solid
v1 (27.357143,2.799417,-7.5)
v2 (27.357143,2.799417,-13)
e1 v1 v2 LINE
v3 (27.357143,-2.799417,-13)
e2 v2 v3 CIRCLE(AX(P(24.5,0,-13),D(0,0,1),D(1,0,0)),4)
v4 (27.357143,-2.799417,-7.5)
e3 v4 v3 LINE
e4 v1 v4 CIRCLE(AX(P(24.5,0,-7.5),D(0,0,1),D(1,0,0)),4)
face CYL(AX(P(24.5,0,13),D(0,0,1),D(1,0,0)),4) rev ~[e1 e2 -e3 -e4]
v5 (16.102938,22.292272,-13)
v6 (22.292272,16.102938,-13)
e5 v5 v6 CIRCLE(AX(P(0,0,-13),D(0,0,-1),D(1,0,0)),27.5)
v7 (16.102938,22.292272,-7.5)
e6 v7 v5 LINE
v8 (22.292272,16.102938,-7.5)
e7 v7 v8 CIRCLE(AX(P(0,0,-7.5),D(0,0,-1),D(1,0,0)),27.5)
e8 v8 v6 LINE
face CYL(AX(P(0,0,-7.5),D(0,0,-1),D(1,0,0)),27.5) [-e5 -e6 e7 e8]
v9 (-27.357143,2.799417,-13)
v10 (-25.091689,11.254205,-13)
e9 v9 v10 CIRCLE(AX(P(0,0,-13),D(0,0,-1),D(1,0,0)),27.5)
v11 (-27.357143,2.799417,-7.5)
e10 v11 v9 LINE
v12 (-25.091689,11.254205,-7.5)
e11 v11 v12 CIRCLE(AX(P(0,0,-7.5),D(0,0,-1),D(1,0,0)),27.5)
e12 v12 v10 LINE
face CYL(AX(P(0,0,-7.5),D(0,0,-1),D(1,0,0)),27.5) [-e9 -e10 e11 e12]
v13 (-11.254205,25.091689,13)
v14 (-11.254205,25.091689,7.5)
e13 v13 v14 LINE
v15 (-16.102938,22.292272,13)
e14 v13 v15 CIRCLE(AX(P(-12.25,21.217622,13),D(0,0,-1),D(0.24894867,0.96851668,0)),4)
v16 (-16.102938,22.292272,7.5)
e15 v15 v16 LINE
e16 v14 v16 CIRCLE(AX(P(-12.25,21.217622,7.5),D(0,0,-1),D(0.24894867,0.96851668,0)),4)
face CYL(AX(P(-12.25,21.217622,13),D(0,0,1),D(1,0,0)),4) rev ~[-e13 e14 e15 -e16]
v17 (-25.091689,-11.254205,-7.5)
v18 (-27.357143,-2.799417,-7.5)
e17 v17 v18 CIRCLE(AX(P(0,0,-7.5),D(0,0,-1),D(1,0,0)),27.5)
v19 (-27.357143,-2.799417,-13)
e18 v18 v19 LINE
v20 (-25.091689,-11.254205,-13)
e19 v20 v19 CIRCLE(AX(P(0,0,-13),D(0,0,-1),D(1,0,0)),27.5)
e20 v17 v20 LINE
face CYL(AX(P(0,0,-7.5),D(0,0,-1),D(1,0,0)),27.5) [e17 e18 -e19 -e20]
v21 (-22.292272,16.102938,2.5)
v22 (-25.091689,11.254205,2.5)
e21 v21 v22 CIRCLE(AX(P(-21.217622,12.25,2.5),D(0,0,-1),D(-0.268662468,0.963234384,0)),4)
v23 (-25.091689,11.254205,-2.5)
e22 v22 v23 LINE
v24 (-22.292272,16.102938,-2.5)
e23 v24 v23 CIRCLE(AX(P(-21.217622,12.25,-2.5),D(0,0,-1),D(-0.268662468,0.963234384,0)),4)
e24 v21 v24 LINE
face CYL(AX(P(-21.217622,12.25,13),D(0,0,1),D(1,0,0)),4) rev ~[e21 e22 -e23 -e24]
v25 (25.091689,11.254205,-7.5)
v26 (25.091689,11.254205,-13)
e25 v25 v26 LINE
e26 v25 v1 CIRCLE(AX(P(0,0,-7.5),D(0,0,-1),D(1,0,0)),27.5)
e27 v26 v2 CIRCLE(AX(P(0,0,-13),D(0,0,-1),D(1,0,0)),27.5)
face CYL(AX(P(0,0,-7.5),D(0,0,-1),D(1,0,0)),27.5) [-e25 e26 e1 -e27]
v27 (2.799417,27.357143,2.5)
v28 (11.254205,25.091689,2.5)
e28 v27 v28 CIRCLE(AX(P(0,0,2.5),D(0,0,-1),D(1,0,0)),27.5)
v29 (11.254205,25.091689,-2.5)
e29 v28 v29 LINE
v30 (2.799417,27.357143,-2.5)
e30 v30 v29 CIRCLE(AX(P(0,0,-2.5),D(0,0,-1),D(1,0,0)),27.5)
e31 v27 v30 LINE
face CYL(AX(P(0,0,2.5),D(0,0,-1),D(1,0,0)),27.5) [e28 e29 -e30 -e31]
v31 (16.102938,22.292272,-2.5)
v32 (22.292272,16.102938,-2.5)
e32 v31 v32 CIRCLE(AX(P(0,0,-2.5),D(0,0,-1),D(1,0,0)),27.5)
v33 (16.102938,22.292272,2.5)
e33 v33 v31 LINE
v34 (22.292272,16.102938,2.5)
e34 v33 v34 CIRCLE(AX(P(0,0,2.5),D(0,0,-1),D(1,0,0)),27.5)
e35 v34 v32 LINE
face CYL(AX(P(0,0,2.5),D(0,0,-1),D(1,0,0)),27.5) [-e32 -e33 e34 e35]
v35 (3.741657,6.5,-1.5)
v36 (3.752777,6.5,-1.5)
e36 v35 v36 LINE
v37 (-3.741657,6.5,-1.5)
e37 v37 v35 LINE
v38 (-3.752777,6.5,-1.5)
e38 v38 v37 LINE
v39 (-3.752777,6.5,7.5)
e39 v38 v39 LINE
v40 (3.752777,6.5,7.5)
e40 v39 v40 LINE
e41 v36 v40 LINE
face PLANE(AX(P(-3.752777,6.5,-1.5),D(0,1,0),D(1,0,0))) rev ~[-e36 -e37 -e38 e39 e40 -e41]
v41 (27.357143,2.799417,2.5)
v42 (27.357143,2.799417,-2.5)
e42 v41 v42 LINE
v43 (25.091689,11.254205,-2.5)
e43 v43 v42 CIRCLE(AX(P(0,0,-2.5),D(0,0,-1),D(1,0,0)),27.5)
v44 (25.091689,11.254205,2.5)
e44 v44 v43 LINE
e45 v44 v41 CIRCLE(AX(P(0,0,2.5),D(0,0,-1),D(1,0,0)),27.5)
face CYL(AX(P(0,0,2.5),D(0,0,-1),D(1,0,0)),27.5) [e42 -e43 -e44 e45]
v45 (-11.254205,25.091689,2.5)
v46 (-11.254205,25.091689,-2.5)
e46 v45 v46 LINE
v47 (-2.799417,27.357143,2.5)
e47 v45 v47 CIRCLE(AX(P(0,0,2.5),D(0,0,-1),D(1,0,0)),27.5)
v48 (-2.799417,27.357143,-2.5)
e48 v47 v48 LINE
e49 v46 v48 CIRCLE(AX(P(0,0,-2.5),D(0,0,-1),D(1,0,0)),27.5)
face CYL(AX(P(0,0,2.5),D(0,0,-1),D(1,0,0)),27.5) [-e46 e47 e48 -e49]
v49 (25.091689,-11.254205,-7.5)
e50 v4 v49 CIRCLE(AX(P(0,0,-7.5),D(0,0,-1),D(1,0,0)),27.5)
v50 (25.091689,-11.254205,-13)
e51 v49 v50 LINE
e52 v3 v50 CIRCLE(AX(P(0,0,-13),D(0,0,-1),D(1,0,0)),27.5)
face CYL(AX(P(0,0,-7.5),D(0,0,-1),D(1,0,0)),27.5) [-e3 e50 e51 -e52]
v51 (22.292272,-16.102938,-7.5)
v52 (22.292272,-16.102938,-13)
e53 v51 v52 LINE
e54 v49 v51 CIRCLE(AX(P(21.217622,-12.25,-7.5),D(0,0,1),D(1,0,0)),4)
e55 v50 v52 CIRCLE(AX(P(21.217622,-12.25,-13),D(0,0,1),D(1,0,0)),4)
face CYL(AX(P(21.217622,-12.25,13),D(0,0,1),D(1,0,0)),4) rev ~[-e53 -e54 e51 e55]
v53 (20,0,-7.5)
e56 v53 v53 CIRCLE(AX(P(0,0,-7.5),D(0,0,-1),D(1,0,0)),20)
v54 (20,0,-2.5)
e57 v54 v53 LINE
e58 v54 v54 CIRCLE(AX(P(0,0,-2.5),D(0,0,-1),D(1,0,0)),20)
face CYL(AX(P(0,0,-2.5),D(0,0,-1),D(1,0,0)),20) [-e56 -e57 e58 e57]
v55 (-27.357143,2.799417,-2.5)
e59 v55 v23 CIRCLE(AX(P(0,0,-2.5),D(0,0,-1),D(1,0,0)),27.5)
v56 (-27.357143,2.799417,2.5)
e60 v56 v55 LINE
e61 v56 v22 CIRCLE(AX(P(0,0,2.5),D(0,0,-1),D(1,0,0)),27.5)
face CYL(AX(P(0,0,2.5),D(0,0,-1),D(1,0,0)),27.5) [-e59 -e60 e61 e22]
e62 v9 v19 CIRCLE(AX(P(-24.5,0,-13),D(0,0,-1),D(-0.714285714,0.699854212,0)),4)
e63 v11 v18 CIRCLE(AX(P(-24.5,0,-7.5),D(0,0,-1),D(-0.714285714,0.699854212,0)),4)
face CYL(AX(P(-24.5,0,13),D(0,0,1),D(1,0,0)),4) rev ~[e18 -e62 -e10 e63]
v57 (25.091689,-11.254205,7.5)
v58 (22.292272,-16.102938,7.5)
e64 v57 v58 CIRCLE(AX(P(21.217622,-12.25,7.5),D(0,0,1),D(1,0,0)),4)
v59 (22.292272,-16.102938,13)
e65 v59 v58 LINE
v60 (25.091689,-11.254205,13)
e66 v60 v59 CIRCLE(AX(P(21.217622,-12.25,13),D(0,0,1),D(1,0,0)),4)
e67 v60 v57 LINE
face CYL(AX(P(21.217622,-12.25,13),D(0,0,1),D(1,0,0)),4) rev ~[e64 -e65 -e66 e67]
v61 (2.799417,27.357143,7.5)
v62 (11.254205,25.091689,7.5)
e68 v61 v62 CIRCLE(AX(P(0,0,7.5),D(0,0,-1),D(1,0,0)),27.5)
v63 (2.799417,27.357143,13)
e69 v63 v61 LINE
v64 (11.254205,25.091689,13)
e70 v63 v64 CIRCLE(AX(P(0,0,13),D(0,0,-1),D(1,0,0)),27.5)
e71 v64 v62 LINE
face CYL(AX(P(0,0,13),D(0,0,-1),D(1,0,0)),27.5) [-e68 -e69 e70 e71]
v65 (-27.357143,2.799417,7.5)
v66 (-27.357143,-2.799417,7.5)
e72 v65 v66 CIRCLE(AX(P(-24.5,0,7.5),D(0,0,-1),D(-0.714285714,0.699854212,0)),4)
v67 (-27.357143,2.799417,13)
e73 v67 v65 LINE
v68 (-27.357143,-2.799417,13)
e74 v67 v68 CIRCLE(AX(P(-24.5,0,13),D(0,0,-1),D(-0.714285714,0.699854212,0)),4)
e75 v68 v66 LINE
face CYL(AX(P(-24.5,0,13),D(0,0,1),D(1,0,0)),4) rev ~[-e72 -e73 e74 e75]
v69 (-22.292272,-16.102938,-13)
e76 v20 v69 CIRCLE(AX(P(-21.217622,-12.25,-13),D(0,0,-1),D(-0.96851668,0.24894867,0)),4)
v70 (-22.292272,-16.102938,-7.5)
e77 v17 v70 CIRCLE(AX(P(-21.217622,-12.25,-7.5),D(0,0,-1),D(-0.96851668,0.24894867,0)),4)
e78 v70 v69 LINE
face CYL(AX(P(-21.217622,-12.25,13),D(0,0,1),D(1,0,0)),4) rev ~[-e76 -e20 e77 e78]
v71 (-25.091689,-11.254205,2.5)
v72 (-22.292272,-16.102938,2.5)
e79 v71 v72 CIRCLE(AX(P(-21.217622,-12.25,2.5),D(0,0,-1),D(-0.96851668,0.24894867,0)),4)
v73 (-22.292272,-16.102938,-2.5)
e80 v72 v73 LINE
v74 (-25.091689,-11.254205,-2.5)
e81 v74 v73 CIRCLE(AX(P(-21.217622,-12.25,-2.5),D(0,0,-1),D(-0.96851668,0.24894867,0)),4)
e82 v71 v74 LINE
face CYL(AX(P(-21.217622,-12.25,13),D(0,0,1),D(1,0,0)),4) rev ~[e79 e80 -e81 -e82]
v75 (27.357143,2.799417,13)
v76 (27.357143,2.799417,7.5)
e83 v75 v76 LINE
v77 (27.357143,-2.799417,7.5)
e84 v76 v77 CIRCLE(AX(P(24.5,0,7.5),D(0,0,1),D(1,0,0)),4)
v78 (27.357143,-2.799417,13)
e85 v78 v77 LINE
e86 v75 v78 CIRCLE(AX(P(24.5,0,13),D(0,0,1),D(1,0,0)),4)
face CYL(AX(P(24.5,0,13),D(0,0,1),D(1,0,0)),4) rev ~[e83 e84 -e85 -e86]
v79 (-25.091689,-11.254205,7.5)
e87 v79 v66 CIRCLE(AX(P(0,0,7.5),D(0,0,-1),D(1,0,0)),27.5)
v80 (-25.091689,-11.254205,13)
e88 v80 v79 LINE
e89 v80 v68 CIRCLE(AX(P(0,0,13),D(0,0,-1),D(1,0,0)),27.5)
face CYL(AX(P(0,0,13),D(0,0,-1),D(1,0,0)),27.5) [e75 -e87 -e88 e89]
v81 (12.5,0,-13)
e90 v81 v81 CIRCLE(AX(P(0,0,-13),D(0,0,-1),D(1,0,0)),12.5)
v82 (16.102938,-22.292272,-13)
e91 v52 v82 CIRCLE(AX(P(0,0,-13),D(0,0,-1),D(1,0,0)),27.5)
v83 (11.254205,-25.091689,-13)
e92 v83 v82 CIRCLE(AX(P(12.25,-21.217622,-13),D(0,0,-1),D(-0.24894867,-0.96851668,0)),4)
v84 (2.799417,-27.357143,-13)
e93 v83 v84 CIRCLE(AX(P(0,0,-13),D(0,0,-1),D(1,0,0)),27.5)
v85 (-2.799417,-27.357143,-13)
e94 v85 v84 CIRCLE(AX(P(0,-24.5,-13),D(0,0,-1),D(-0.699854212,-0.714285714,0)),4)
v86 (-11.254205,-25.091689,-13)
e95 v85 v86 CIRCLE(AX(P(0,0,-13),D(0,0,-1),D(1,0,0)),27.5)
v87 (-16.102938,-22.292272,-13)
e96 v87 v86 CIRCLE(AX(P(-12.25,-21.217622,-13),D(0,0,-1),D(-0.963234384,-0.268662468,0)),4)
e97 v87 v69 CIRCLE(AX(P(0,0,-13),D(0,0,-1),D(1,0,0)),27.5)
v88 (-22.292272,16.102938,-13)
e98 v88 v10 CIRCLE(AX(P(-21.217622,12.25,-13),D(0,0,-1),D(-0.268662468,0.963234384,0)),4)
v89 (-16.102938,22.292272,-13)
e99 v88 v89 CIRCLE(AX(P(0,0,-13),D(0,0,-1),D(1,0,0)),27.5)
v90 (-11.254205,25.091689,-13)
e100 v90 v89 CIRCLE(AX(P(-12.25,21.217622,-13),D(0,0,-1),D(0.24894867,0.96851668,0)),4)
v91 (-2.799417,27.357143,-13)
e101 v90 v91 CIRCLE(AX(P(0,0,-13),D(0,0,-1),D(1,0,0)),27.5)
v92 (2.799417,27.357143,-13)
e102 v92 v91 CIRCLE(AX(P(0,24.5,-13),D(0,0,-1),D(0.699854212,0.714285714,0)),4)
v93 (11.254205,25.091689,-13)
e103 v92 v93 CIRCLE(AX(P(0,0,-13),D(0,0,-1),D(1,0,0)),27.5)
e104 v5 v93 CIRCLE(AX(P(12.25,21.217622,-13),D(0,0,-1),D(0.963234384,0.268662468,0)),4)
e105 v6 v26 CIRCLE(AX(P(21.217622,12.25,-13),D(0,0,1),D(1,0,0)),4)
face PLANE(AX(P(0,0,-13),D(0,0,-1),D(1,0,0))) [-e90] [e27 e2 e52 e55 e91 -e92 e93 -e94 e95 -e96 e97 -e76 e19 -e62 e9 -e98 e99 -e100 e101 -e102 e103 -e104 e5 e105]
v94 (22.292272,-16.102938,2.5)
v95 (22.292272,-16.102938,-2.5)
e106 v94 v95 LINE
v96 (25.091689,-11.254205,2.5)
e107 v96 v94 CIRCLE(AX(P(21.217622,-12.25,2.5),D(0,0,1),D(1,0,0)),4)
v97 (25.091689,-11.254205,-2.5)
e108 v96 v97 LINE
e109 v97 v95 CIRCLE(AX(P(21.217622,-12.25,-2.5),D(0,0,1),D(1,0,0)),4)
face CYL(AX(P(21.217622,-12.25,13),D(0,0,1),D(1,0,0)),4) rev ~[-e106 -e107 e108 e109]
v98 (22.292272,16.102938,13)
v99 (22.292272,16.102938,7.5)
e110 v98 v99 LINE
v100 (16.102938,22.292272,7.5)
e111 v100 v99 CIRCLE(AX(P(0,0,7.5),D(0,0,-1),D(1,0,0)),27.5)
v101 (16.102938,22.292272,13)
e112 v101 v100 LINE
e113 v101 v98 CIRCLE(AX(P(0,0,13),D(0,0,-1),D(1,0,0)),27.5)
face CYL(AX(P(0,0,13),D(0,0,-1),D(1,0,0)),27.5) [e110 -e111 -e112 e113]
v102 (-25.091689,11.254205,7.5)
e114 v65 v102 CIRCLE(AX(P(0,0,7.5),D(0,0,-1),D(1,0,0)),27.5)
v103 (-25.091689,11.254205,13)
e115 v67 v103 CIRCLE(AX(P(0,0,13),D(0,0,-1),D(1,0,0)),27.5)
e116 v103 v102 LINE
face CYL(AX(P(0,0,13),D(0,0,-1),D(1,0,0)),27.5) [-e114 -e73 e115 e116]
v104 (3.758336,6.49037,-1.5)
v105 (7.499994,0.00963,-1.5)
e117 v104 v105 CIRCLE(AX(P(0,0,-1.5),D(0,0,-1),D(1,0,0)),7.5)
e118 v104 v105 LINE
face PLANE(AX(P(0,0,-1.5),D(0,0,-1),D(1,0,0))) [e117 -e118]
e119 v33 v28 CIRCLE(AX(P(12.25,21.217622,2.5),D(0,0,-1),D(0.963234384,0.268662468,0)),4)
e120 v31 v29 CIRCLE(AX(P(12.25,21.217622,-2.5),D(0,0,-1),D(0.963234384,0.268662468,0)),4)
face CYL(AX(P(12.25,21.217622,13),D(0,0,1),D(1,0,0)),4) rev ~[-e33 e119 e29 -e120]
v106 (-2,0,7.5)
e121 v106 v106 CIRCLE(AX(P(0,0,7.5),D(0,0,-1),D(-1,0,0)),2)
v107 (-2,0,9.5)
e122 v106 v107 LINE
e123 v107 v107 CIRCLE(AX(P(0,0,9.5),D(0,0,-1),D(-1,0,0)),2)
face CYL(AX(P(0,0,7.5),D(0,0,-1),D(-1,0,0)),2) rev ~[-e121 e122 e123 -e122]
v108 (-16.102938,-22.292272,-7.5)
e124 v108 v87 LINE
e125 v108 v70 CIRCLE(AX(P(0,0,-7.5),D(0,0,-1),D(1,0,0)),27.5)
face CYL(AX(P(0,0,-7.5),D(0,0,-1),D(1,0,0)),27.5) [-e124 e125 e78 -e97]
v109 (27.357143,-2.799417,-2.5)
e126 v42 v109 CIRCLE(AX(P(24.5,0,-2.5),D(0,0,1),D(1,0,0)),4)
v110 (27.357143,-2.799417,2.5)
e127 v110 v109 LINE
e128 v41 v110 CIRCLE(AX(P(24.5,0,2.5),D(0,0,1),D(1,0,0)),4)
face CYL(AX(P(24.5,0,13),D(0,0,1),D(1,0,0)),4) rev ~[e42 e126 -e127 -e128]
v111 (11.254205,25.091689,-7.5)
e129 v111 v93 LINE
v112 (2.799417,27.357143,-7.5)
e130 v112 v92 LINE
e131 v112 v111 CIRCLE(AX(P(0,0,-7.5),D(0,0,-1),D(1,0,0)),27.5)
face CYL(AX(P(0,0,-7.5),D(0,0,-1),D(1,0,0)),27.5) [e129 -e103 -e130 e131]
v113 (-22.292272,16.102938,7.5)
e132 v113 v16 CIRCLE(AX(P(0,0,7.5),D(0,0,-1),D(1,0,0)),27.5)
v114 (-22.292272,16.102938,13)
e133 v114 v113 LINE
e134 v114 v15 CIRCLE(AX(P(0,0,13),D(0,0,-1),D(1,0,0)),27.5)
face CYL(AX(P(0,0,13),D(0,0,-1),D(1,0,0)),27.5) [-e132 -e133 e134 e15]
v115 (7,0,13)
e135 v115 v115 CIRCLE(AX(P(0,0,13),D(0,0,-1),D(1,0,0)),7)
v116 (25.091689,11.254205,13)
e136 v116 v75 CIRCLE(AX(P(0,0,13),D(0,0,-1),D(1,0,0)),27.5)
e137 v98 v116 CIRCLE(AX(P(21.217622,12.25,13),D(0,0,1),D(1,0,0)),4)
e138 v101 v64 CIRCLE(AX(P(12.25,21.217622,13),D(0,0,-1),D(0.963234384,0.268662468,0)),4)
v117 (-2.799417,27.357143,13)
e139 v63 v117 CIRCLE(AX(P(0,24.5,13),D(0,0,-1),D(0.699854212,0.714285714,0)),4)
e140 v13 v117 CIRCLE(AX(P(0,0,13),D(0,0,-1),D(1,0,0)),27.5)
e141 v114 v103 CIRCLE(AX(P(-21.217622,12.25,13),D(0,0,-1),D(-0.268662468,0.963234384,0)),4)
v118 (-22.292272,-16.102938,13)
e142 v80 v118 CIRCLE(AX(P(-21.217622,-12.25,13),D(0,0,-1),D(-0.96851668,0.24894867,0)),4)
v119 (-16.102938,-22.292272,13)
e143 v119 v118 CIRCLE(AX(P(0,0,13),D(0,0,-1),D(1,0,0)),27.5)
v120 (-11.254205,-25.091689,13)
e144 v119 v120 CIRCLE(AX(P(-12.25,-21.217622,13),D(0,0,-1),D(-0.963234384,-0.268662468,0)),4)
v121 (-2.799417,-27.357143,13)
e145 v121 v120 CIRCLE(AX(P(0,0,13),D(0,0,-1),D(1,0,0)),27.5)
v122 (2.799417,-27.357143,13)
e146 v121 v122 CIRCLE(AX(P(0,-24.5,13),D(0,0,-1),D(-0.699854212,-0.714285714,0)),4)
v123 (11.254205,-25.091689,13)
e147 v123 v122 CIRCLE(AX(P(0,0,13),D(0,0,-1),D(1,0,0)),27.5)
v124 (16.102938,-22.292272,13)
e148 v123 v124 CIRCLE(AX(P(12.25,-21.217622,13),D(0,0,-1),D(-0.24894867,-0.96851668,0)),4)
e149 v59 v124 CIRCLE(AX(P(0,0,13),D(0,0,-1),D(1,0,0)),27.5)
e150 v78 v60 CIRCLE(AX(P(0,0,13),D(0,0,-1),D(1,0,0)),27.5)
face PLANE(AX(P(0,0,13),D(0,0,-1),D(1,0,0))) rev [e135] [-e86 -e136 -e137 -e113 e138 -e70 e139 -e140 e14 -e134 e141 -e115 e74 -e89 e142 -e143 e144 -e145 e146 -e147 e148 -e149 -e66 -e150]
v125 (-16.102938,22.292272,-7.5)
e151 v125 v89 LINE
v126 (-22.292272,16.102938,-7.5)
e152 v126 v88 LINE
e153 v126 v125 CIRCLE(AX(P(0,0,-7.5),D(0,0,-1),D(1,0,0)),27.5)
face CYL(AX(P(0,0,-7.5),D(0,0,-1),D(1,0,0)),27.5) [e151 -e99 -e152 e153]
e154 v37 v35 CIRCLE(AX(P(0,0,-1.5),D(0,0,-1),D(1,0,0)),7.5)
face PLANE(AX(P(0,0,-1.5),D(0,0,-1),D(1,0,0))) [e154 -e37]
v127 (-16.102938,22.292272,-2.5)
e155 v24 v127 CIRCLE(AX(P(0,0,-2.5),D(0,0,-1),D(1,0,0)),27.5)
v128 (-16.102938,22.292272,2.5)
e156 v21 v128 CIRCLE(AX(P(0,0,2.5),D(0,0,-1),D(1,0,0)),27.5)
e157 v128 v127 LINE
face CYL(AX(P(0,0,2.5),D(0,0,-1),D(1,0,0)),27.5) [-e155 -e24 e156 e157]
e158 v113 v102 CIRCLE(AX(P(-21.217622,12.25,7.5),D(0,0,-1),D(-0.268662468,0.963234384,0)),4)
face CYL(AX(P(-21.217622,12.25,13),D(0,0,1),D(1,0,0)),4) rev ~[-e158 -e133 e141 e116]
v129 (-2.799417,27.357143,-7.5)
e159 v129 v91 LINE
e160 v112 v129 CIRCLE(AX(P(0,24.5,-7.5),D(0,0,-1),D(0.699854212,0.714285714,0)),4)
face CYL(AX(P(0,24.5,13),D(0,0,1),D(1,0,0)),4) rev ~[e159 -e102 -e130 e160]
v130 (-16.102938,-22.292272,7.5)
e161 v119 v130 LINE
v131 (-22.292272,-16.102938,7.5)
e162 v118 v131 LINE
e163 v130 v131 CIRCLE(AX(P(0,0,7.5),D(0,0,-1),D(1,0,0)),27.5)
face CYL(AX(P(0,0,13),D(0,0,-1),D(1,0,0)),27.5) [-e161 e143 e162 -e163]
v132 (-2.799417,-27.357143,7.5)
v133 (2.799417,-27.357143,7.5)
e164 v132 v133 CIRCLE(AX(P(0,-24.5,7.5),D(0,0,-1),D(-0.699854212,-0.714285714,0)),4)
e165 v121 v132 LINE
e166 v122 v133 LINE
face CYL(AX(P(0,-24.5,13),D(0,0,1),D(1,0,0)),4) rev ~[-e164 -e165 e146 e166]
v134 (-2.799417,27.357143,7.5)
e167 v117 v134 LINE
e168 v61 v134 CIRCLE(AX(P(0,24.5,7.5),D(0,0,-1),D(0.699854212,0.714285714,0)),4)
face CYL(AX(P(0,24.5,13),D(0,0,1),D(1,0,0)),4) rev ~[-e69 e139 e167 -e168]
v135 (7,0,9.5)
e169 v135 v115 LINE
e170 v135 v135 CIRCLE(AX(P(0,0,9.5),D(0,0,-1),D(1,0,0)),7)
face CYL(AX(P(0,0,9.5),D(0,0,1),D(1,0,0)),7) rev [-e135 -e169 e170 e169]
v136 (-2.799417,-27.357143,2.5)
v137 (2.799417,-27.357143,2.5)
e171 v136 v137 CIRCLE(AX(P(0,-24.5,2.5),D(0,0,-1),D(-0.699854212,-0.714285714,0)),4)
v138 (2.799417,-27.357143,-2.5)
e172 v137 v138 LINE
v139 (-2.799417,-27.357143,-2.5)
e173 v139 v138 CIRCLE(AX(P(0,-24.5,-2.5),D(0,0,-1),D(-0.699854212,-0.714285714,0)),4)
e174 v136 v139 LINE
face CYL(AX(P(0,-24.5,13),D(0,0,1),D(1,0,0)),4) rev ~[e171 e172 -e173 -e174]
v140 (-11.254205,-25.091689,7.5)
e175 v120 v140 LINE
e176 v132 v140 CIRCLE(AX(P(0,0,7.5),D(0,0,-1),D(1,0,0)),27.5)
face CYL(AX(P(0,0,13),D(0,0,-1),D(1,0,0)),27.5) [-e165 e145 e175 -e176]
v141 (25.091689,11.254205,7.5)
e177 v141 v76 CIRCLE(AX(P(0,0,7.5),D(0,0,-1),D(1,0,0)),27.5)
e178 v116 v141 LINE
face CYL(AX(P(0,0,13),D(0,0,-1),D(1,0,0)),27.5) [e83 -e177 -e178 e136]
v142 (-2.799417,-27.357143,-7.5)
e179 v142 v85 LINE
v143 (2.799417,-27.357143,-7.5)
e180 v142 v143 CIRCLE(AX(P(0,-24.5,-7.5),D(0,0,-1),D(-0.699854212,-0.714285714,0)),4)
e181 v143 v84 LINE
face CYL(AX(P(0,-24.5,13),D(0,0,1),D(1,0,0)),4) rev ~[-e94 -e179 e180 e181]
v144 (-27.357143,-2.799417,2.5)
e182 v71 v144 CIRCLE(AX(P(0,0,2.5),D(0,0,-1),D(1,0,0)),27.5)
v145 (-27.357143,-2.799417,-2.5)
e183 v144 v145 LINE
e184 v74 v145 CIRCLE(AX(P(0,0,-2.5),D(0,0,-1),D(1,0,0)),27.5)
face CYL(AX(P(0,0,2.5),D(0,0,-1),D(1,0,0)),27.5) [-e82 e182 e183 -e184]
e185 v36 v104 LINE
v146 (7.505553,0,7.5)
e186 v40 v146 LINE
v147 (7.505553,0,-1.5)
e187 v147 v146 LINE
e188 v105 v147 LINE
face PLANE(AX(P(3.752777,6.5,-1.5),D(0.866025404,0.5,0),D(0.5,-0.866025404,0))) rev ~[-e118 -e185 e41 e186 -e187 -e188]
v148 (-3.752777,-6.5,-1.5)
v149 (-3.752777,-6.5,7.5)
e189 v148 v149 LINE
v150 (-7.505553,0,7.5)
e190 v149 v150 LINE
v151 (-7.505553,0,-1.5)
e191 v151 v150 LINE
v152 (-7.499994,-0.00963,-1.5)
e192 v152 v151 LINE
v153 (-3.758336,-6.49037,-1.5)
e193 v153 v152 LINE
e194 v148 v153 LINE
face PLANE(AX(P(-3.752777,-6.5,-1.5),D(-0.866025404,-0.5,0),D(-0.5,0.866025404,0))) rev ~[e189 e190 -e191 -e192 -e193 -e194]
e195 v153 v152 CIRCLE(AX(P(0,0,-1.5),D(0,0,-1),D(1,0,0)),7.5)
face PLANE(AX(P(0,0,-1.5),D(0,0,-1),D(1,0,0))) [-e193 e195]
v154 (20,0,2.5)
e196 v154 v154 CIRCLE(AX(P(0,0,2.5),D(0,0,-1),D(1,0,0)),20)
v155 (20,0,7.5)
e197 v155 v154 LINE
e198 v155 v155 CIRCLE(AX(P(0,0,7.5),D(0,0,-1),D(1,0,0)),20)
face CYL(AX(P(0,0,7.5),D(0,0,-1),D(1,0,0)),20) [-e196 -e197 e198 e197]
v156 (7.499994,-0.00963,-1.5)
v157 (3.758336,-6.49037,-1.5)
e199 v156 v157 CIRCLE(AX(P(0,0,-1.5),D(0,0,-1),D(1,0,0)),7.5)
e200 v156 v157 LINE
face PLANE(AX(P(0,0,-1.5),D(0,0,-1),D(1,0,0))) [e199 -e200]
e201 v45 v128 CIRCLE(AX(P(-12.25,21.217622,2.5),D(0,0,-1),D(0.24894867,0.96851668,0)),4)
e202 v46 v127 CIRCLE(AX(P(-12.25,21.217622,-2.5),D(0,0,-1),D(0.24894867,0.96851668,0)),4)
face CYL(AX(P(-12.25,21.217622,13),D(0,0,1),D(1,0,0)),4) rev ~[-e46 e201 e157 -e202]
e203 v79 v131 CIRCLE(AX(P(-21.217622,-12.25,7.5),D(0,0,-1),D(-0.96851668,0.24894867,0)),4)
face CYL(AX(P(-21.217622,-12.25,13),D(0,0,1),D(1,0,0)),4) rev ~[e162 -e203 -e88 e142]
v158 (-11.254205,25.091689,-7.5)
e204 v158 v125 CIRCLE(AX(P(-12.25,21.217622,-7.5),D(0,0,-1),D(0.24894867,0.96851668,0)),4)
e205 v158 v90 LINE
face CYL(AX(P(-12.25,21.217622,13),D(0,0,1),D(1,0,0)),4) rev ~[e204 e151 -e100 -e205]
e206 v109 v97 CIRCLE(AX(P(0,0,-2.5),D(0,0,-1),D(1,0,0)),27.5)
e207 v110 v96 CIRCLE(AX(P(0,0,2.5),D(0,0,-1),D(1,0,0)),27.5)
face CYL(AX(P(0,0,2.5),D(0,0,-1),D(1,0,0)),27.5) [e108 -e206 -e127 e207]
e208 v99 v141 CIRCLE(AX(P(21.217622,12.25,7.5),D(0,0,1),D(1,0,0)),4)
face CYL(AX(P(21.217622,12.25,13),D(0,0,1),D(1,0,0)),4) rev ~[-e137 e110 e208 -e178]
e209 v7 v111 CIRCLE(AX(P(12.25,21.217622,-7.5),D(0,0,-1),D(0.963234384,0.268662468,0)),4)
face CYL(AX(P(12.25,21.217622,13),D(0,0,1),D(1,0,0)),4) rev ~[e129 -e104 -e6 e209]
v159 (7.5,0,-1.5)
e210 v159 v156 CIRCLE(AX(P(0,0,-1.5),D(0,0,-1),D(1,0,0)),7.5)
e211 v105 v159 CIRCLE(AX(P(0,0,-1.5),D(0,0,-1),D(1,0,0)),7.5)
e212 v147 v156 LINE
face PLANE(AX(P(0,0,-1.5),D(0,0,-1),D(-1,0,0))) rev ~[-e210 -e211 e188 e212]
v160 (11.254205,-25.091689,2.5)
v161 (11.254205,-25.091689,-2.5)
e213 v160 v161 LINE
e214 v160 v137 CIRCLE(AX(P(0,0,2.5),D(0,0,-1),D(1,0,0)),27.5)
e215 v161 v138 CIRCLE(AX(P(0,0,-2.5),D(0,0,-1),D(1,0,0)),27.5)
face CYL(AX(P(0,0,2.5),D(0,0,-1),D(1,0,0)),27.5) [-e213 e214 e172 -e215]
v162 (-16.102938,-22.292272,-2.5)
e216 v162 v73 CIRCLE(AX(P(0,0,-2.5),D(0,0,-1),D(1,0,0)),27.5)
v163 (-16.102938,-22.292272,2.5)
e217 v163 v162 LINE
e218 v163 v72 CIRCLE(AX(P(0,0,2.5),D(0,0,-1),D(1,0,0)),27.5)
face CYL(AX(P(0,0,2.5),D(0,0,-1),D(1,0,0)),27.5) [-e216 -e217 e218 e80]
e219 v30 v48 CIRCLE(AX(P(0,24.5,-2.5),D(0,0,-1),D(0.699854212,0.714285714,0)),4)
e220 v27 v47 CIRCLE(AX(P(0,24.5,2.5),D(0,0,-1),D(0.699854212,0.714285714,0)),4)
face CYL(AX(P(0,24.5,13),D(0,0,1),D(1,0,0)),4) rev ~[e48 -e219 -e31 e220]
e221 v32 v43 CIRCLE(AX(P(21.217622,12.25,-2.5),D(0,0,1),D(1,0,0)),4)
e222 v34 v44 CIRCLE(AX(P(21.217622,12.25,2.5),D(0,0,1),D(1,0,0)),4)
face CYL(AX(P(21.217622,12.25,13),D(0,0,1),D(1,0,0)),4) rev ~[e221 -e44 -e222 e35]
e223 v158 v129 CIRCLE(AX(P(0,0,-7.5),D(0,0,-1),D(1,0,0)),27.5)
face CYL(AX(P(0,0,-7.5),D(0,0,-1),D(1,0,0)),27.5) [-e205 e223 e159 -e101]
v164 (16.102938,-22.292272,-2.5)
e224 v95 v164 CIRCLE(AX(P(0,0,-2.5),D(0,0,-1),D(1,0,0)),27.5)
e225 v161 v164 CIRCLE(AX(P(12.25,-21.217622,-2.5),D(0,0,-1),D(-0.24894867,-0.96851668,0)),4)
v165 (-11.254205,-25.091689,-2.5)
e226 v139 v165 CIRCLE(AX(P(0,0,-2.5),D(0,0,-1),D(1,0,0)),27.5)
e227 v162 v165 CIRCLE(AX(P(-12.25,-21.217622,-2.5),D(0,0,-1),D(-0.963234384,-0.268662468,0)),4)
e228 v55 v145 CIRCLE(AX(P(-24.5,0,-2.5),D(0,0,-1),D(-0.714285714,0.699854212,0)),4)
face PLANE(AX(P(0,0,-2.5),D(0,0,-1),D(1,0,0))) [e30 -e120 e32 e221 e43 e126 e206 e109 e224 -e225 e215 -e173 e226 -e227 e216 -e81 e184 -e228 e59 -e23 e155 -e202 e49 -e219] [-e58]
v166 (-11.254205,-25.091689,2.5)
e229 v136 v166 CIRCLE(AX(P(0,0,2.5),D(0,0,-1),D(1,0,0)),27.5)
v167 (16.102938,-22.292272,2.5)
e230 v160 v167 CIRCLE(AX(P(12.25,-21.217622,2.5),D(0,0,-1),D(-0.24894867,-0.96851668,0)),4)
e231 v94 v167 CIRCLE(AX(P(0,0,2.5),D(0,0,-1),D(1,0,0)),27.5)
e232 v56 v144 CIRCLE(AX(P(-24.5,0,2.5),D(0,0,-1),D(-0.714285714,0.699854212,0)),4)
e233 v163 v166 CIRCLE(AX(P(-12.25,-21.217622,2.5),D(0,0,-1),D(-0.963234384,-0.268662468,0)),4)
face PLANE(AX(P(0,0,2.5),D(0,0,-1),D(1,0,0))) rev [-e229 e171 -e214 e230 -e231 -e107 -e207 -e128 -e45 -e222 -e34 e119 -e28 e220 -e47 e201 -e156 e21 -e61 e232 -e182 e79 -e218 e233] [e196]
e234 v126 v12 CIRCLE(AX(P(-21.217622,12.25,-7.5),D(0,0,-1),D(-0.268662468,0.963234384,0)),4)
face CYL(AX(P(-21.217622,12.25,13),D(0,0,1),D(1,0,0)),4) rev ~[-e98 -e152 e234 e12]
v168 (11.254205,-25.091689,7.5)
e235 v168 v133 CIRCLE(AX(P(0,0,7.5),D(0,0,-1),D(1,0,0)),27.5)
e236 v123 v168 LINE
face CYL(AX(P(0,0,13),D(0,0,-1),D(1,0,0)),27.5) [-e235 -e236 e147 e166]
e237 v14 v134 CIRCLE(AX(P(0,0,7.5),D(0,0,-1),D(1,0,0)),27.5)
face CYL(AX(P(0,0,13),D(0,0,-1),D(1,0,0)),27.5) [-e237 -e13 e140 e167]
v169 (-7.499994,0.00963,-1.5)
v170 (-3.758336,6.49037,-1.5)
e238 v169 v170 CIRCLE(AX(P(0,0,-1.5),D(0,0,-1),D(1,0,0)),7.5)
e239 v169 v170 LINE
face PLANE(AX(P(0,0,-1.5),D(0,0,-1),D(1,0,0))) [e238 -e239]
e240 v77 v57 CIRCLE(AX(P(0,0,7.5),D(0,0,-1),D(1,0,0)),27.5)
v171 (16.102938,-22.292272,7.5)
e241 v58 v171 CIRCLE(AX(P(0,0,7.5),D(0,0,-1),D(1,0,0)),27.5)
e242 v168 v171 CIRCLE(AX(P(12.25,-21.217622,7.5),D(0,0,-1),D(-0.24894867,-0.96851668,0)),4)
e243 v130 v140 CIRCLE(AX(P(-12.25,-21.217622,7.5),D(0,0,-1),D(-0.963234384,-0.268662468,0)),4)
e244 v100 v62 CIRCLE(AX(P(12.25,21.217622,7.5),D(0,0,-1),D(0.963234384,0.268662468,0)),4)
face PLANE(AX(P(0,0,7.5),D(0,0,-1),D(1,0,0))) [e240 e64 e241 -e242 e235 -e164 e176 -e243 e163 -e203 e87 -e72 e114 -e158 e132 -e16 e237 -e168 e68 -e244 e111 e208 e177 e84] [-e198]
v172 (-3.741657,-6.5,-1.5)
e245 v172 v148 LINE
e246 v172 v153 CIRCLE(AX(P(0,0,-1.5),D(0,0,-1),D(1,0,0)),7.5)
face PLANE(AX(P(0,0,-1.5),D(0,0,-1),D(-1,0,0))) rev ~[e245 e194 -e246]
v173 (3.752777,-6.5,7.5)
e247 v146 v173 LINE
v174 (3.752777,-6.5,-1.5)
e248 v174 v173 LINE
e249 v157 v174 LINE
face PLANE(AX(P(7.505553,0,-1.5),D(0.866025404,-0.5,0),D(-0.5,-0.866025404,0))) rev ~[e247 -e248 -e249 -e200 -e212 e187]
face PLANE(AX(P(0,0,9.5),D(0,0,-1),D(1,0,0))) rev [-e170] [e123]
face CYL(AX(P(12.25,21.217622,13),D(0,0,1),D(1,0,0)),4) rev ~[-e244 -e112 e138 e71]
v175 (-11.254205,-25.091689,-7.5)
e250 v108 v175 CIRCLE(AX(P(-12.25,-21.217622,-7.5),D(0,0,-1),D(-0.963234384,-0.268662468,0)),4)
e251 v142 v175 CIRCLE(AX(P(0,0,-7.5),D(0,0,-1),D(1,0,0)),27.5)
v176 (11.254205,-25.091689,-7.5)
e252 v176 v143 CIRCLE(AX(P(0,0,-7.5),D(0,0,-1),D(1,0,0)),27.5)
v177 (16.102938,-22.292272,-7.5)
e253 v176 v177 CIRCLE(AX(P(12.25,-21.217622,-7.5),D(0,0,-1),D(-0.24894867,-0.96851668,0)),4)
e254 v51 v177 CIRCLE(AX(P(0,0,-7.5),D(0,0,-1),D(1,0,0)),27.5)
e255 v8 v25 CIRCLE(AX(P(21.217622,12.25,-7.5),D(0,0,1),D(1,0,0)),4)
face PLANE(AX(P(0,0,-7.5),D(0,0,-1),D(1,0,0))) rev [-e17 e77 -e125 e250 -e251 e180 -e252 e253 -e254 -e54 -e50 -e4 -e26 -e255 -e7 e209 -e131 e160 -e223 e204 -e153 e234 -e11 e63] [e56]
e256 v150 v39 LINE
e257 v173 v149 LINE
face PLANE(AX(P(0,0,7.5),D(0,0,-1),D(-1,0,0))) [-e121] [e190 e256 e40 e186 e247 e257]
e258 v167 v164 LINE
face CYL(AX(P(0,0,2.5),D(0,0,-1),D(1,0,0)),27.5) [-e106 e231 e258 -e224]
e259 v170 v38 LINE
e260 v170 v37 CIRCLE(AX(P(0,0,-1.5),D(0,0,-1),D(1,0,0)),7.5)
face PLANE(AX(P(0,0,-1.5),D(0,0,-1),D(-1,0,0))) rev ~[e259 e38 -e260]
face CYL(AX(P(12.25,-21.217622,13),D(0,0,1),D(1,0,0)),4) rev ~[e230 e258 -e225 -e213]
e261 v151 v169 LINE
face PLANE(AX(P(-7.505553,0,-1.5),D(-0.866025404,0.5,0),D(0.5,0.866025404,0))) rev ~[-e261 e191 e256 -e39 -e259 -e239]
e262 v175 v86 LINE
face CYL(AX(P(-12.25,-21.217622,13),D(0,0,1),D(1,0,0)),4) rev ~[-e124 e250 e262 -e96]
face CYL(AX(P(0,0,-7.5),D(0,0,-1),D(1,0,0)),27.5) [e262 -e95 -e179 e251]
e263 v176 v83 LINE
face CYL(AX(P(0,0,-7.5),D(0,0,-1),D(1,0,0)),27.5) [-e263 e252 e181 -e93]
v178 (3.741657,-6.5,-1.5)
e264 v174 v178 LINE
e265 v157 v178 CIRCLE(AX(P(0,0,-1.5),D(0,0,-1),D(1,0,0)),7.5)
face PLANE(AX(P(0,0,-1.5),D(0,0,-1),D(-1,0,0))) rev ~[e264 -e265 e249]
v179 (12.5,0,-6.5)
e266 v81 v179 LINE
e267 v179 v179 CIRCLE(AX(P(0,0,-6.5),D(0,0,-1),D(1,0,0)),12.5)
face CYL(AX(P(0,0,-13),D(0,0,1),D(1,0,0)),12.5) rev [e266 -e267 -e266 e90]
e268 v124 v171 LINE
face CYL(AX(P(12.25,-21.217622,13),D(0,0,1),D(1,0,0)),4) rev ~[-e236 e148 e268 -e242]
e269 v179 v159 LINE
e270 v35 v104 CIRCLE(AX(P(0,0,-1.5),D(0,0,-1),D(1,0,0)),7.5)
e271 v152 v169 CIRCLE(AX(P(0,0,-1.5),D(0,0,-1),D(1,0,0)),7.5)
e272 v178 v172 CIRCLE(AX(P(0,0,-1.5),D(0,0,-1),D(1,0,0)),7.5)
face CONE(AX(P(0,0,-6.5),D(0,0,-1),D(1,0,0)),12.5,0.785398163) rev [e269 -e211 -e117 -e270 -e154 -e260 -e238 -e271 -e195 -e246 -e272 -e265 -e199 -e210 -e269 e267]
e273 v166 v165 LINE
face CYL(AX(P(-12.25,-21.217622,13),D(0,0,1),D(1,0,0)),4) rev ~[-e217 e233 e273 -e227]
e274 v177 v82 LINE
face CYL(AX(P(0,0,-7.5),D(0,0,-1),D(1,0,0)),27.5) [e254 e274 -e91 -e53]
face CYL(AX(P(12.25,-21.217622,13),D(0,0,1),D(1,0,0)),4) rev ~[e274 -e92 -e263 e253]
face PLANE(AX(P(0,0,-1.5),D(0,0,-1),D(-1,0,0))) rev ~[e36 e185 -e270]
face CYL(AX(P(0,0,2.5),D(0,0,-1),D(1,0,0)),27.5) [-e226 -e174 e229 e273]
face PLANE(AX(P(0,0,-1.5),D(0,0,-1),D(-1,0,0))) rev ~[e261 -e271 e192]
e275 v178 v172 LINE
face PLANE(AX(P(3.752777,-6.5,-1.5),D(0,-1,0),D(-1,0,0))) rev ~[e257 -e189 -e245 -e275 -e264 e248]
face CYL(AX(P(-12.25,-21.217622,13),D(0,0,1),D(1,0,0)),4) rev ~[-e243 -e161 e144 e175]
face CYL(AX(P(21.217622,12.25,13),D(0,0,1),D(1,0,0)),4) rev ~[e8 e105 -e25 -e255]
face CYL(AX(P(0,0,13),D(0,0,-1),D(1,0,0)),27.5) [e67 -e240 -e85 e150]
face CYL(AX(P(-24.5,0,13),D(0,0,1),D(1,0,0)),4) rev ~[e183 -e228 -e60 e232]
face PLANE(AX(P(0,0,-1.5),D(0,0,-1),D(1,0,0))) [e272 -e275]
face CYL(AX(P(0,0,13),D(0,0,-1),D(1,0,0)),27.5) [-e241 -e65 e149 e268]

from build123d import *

# Parameters (mm, degrees)
CORTAR_EXTRUIR1_DEPTH = 9
CROQUIS5_R            = 4
CORTAR_EXTRUIR3_DEPTH = 27
CROQUIS6_R            = 2
CORTAR_EXTRUIR4_DEPTH = 10


with BuildPart() as part:
    # Croquis1 → Revolución1 (revolve)
    with BuildSketch(Plane(origin=(0, 0, 0), x_dir=(1, 0, 0), z_dir=(0, 1, 0))):
        Polygon((0, 1.5), (0, -9.5), (7, -9.5), (7, -13), (12.5, -13), (27.5, -13), (27.5, -7.5), (20, -7.5), (20, -2.5), (27.5, -2.5), (27.5, 2.5), (20, 2.5), (20, 7.5), (27.5, 7.5), (27.5, 13), (12.5, 13), (12.5, 6.5), (7.5, 1.5), align=None)
    revolve(axis=Axis((0, 0, 0), (0, 0, -1)))

    # Croquis2 → Cortar-Extruir1 (cut)
    with BuildSketch(Plane(origin=(0, 0, -1.5), x_dir=(-1, 0, 0), z_dir=(0, 0, -1))):
        Polygon((7.505553499, 0), (3.75277675, 6.5), (-3.75277675, 6.5), (-7.505553499, 0), (-3.75277675, -6.5), (3.75277675, -6.5), align=None)
    extrude(amount=-CORTAR_EXTRUIR1_DEPTH, mode=Mode.SUBTRACT)

    # Croquis5 → Cortar-Extruir3 (cut, through all)
    with BuildSketch(Plane.XY.offset(13)):
        with Locations((0, 24.5)):
            Circle(CROQUIS5_R)
        with Locations((12.25, 21.217622393)):
            Circle(CROQUIS5_R)
        with Locations((21.217622393, 12.25)):
            Circle(CROQUIS5_R)
        with Locations((24.5, 0)):
            Circle(CROQUIS5_R)
        with Locations((21.217622393, -12.25)):
            Circle(CROQUIS5_R)
        with Locations((12.25, -21.217622393)):
            Circle(CROQUIS5_R)
        with Locations((0, -24.5)):
            Circle(CROQUIS5_R)
        with Locations((-12.25, -21.217622393)):
            Circle(CROQUIS5_R)
        with Locations((-21.217622393, -12.25)):
            Circle(CROQUIS5_R)
        with Locations((-24.5, 0)):
            Circle(CROQUIS5_R)
        with Locations((-21.217622393, 12.25)):
            Circle(CROQUIS5_R)
        with Locations((-12.25, 21.217622393)):
            Circle(CROQUIS5_R)
    extrude(amount=-CORTAR_EXTRUIR3_DEPTH, mode=Mode.SUBTRACT)

    # Croquis6 → Cortar-Extruir4 (cut)
    with BuildSketch(Plane(origin=(0, 0, 7.5), x_dir=(-1, 0, 0), z_dir=(0, 0, -1))):
        Circle(CROQUIS6_R)
    extrude(amount=-CORTAR_EXTRUIR4_DEPTH, mode=Mode.SUBTRACT)


solid = part.part
